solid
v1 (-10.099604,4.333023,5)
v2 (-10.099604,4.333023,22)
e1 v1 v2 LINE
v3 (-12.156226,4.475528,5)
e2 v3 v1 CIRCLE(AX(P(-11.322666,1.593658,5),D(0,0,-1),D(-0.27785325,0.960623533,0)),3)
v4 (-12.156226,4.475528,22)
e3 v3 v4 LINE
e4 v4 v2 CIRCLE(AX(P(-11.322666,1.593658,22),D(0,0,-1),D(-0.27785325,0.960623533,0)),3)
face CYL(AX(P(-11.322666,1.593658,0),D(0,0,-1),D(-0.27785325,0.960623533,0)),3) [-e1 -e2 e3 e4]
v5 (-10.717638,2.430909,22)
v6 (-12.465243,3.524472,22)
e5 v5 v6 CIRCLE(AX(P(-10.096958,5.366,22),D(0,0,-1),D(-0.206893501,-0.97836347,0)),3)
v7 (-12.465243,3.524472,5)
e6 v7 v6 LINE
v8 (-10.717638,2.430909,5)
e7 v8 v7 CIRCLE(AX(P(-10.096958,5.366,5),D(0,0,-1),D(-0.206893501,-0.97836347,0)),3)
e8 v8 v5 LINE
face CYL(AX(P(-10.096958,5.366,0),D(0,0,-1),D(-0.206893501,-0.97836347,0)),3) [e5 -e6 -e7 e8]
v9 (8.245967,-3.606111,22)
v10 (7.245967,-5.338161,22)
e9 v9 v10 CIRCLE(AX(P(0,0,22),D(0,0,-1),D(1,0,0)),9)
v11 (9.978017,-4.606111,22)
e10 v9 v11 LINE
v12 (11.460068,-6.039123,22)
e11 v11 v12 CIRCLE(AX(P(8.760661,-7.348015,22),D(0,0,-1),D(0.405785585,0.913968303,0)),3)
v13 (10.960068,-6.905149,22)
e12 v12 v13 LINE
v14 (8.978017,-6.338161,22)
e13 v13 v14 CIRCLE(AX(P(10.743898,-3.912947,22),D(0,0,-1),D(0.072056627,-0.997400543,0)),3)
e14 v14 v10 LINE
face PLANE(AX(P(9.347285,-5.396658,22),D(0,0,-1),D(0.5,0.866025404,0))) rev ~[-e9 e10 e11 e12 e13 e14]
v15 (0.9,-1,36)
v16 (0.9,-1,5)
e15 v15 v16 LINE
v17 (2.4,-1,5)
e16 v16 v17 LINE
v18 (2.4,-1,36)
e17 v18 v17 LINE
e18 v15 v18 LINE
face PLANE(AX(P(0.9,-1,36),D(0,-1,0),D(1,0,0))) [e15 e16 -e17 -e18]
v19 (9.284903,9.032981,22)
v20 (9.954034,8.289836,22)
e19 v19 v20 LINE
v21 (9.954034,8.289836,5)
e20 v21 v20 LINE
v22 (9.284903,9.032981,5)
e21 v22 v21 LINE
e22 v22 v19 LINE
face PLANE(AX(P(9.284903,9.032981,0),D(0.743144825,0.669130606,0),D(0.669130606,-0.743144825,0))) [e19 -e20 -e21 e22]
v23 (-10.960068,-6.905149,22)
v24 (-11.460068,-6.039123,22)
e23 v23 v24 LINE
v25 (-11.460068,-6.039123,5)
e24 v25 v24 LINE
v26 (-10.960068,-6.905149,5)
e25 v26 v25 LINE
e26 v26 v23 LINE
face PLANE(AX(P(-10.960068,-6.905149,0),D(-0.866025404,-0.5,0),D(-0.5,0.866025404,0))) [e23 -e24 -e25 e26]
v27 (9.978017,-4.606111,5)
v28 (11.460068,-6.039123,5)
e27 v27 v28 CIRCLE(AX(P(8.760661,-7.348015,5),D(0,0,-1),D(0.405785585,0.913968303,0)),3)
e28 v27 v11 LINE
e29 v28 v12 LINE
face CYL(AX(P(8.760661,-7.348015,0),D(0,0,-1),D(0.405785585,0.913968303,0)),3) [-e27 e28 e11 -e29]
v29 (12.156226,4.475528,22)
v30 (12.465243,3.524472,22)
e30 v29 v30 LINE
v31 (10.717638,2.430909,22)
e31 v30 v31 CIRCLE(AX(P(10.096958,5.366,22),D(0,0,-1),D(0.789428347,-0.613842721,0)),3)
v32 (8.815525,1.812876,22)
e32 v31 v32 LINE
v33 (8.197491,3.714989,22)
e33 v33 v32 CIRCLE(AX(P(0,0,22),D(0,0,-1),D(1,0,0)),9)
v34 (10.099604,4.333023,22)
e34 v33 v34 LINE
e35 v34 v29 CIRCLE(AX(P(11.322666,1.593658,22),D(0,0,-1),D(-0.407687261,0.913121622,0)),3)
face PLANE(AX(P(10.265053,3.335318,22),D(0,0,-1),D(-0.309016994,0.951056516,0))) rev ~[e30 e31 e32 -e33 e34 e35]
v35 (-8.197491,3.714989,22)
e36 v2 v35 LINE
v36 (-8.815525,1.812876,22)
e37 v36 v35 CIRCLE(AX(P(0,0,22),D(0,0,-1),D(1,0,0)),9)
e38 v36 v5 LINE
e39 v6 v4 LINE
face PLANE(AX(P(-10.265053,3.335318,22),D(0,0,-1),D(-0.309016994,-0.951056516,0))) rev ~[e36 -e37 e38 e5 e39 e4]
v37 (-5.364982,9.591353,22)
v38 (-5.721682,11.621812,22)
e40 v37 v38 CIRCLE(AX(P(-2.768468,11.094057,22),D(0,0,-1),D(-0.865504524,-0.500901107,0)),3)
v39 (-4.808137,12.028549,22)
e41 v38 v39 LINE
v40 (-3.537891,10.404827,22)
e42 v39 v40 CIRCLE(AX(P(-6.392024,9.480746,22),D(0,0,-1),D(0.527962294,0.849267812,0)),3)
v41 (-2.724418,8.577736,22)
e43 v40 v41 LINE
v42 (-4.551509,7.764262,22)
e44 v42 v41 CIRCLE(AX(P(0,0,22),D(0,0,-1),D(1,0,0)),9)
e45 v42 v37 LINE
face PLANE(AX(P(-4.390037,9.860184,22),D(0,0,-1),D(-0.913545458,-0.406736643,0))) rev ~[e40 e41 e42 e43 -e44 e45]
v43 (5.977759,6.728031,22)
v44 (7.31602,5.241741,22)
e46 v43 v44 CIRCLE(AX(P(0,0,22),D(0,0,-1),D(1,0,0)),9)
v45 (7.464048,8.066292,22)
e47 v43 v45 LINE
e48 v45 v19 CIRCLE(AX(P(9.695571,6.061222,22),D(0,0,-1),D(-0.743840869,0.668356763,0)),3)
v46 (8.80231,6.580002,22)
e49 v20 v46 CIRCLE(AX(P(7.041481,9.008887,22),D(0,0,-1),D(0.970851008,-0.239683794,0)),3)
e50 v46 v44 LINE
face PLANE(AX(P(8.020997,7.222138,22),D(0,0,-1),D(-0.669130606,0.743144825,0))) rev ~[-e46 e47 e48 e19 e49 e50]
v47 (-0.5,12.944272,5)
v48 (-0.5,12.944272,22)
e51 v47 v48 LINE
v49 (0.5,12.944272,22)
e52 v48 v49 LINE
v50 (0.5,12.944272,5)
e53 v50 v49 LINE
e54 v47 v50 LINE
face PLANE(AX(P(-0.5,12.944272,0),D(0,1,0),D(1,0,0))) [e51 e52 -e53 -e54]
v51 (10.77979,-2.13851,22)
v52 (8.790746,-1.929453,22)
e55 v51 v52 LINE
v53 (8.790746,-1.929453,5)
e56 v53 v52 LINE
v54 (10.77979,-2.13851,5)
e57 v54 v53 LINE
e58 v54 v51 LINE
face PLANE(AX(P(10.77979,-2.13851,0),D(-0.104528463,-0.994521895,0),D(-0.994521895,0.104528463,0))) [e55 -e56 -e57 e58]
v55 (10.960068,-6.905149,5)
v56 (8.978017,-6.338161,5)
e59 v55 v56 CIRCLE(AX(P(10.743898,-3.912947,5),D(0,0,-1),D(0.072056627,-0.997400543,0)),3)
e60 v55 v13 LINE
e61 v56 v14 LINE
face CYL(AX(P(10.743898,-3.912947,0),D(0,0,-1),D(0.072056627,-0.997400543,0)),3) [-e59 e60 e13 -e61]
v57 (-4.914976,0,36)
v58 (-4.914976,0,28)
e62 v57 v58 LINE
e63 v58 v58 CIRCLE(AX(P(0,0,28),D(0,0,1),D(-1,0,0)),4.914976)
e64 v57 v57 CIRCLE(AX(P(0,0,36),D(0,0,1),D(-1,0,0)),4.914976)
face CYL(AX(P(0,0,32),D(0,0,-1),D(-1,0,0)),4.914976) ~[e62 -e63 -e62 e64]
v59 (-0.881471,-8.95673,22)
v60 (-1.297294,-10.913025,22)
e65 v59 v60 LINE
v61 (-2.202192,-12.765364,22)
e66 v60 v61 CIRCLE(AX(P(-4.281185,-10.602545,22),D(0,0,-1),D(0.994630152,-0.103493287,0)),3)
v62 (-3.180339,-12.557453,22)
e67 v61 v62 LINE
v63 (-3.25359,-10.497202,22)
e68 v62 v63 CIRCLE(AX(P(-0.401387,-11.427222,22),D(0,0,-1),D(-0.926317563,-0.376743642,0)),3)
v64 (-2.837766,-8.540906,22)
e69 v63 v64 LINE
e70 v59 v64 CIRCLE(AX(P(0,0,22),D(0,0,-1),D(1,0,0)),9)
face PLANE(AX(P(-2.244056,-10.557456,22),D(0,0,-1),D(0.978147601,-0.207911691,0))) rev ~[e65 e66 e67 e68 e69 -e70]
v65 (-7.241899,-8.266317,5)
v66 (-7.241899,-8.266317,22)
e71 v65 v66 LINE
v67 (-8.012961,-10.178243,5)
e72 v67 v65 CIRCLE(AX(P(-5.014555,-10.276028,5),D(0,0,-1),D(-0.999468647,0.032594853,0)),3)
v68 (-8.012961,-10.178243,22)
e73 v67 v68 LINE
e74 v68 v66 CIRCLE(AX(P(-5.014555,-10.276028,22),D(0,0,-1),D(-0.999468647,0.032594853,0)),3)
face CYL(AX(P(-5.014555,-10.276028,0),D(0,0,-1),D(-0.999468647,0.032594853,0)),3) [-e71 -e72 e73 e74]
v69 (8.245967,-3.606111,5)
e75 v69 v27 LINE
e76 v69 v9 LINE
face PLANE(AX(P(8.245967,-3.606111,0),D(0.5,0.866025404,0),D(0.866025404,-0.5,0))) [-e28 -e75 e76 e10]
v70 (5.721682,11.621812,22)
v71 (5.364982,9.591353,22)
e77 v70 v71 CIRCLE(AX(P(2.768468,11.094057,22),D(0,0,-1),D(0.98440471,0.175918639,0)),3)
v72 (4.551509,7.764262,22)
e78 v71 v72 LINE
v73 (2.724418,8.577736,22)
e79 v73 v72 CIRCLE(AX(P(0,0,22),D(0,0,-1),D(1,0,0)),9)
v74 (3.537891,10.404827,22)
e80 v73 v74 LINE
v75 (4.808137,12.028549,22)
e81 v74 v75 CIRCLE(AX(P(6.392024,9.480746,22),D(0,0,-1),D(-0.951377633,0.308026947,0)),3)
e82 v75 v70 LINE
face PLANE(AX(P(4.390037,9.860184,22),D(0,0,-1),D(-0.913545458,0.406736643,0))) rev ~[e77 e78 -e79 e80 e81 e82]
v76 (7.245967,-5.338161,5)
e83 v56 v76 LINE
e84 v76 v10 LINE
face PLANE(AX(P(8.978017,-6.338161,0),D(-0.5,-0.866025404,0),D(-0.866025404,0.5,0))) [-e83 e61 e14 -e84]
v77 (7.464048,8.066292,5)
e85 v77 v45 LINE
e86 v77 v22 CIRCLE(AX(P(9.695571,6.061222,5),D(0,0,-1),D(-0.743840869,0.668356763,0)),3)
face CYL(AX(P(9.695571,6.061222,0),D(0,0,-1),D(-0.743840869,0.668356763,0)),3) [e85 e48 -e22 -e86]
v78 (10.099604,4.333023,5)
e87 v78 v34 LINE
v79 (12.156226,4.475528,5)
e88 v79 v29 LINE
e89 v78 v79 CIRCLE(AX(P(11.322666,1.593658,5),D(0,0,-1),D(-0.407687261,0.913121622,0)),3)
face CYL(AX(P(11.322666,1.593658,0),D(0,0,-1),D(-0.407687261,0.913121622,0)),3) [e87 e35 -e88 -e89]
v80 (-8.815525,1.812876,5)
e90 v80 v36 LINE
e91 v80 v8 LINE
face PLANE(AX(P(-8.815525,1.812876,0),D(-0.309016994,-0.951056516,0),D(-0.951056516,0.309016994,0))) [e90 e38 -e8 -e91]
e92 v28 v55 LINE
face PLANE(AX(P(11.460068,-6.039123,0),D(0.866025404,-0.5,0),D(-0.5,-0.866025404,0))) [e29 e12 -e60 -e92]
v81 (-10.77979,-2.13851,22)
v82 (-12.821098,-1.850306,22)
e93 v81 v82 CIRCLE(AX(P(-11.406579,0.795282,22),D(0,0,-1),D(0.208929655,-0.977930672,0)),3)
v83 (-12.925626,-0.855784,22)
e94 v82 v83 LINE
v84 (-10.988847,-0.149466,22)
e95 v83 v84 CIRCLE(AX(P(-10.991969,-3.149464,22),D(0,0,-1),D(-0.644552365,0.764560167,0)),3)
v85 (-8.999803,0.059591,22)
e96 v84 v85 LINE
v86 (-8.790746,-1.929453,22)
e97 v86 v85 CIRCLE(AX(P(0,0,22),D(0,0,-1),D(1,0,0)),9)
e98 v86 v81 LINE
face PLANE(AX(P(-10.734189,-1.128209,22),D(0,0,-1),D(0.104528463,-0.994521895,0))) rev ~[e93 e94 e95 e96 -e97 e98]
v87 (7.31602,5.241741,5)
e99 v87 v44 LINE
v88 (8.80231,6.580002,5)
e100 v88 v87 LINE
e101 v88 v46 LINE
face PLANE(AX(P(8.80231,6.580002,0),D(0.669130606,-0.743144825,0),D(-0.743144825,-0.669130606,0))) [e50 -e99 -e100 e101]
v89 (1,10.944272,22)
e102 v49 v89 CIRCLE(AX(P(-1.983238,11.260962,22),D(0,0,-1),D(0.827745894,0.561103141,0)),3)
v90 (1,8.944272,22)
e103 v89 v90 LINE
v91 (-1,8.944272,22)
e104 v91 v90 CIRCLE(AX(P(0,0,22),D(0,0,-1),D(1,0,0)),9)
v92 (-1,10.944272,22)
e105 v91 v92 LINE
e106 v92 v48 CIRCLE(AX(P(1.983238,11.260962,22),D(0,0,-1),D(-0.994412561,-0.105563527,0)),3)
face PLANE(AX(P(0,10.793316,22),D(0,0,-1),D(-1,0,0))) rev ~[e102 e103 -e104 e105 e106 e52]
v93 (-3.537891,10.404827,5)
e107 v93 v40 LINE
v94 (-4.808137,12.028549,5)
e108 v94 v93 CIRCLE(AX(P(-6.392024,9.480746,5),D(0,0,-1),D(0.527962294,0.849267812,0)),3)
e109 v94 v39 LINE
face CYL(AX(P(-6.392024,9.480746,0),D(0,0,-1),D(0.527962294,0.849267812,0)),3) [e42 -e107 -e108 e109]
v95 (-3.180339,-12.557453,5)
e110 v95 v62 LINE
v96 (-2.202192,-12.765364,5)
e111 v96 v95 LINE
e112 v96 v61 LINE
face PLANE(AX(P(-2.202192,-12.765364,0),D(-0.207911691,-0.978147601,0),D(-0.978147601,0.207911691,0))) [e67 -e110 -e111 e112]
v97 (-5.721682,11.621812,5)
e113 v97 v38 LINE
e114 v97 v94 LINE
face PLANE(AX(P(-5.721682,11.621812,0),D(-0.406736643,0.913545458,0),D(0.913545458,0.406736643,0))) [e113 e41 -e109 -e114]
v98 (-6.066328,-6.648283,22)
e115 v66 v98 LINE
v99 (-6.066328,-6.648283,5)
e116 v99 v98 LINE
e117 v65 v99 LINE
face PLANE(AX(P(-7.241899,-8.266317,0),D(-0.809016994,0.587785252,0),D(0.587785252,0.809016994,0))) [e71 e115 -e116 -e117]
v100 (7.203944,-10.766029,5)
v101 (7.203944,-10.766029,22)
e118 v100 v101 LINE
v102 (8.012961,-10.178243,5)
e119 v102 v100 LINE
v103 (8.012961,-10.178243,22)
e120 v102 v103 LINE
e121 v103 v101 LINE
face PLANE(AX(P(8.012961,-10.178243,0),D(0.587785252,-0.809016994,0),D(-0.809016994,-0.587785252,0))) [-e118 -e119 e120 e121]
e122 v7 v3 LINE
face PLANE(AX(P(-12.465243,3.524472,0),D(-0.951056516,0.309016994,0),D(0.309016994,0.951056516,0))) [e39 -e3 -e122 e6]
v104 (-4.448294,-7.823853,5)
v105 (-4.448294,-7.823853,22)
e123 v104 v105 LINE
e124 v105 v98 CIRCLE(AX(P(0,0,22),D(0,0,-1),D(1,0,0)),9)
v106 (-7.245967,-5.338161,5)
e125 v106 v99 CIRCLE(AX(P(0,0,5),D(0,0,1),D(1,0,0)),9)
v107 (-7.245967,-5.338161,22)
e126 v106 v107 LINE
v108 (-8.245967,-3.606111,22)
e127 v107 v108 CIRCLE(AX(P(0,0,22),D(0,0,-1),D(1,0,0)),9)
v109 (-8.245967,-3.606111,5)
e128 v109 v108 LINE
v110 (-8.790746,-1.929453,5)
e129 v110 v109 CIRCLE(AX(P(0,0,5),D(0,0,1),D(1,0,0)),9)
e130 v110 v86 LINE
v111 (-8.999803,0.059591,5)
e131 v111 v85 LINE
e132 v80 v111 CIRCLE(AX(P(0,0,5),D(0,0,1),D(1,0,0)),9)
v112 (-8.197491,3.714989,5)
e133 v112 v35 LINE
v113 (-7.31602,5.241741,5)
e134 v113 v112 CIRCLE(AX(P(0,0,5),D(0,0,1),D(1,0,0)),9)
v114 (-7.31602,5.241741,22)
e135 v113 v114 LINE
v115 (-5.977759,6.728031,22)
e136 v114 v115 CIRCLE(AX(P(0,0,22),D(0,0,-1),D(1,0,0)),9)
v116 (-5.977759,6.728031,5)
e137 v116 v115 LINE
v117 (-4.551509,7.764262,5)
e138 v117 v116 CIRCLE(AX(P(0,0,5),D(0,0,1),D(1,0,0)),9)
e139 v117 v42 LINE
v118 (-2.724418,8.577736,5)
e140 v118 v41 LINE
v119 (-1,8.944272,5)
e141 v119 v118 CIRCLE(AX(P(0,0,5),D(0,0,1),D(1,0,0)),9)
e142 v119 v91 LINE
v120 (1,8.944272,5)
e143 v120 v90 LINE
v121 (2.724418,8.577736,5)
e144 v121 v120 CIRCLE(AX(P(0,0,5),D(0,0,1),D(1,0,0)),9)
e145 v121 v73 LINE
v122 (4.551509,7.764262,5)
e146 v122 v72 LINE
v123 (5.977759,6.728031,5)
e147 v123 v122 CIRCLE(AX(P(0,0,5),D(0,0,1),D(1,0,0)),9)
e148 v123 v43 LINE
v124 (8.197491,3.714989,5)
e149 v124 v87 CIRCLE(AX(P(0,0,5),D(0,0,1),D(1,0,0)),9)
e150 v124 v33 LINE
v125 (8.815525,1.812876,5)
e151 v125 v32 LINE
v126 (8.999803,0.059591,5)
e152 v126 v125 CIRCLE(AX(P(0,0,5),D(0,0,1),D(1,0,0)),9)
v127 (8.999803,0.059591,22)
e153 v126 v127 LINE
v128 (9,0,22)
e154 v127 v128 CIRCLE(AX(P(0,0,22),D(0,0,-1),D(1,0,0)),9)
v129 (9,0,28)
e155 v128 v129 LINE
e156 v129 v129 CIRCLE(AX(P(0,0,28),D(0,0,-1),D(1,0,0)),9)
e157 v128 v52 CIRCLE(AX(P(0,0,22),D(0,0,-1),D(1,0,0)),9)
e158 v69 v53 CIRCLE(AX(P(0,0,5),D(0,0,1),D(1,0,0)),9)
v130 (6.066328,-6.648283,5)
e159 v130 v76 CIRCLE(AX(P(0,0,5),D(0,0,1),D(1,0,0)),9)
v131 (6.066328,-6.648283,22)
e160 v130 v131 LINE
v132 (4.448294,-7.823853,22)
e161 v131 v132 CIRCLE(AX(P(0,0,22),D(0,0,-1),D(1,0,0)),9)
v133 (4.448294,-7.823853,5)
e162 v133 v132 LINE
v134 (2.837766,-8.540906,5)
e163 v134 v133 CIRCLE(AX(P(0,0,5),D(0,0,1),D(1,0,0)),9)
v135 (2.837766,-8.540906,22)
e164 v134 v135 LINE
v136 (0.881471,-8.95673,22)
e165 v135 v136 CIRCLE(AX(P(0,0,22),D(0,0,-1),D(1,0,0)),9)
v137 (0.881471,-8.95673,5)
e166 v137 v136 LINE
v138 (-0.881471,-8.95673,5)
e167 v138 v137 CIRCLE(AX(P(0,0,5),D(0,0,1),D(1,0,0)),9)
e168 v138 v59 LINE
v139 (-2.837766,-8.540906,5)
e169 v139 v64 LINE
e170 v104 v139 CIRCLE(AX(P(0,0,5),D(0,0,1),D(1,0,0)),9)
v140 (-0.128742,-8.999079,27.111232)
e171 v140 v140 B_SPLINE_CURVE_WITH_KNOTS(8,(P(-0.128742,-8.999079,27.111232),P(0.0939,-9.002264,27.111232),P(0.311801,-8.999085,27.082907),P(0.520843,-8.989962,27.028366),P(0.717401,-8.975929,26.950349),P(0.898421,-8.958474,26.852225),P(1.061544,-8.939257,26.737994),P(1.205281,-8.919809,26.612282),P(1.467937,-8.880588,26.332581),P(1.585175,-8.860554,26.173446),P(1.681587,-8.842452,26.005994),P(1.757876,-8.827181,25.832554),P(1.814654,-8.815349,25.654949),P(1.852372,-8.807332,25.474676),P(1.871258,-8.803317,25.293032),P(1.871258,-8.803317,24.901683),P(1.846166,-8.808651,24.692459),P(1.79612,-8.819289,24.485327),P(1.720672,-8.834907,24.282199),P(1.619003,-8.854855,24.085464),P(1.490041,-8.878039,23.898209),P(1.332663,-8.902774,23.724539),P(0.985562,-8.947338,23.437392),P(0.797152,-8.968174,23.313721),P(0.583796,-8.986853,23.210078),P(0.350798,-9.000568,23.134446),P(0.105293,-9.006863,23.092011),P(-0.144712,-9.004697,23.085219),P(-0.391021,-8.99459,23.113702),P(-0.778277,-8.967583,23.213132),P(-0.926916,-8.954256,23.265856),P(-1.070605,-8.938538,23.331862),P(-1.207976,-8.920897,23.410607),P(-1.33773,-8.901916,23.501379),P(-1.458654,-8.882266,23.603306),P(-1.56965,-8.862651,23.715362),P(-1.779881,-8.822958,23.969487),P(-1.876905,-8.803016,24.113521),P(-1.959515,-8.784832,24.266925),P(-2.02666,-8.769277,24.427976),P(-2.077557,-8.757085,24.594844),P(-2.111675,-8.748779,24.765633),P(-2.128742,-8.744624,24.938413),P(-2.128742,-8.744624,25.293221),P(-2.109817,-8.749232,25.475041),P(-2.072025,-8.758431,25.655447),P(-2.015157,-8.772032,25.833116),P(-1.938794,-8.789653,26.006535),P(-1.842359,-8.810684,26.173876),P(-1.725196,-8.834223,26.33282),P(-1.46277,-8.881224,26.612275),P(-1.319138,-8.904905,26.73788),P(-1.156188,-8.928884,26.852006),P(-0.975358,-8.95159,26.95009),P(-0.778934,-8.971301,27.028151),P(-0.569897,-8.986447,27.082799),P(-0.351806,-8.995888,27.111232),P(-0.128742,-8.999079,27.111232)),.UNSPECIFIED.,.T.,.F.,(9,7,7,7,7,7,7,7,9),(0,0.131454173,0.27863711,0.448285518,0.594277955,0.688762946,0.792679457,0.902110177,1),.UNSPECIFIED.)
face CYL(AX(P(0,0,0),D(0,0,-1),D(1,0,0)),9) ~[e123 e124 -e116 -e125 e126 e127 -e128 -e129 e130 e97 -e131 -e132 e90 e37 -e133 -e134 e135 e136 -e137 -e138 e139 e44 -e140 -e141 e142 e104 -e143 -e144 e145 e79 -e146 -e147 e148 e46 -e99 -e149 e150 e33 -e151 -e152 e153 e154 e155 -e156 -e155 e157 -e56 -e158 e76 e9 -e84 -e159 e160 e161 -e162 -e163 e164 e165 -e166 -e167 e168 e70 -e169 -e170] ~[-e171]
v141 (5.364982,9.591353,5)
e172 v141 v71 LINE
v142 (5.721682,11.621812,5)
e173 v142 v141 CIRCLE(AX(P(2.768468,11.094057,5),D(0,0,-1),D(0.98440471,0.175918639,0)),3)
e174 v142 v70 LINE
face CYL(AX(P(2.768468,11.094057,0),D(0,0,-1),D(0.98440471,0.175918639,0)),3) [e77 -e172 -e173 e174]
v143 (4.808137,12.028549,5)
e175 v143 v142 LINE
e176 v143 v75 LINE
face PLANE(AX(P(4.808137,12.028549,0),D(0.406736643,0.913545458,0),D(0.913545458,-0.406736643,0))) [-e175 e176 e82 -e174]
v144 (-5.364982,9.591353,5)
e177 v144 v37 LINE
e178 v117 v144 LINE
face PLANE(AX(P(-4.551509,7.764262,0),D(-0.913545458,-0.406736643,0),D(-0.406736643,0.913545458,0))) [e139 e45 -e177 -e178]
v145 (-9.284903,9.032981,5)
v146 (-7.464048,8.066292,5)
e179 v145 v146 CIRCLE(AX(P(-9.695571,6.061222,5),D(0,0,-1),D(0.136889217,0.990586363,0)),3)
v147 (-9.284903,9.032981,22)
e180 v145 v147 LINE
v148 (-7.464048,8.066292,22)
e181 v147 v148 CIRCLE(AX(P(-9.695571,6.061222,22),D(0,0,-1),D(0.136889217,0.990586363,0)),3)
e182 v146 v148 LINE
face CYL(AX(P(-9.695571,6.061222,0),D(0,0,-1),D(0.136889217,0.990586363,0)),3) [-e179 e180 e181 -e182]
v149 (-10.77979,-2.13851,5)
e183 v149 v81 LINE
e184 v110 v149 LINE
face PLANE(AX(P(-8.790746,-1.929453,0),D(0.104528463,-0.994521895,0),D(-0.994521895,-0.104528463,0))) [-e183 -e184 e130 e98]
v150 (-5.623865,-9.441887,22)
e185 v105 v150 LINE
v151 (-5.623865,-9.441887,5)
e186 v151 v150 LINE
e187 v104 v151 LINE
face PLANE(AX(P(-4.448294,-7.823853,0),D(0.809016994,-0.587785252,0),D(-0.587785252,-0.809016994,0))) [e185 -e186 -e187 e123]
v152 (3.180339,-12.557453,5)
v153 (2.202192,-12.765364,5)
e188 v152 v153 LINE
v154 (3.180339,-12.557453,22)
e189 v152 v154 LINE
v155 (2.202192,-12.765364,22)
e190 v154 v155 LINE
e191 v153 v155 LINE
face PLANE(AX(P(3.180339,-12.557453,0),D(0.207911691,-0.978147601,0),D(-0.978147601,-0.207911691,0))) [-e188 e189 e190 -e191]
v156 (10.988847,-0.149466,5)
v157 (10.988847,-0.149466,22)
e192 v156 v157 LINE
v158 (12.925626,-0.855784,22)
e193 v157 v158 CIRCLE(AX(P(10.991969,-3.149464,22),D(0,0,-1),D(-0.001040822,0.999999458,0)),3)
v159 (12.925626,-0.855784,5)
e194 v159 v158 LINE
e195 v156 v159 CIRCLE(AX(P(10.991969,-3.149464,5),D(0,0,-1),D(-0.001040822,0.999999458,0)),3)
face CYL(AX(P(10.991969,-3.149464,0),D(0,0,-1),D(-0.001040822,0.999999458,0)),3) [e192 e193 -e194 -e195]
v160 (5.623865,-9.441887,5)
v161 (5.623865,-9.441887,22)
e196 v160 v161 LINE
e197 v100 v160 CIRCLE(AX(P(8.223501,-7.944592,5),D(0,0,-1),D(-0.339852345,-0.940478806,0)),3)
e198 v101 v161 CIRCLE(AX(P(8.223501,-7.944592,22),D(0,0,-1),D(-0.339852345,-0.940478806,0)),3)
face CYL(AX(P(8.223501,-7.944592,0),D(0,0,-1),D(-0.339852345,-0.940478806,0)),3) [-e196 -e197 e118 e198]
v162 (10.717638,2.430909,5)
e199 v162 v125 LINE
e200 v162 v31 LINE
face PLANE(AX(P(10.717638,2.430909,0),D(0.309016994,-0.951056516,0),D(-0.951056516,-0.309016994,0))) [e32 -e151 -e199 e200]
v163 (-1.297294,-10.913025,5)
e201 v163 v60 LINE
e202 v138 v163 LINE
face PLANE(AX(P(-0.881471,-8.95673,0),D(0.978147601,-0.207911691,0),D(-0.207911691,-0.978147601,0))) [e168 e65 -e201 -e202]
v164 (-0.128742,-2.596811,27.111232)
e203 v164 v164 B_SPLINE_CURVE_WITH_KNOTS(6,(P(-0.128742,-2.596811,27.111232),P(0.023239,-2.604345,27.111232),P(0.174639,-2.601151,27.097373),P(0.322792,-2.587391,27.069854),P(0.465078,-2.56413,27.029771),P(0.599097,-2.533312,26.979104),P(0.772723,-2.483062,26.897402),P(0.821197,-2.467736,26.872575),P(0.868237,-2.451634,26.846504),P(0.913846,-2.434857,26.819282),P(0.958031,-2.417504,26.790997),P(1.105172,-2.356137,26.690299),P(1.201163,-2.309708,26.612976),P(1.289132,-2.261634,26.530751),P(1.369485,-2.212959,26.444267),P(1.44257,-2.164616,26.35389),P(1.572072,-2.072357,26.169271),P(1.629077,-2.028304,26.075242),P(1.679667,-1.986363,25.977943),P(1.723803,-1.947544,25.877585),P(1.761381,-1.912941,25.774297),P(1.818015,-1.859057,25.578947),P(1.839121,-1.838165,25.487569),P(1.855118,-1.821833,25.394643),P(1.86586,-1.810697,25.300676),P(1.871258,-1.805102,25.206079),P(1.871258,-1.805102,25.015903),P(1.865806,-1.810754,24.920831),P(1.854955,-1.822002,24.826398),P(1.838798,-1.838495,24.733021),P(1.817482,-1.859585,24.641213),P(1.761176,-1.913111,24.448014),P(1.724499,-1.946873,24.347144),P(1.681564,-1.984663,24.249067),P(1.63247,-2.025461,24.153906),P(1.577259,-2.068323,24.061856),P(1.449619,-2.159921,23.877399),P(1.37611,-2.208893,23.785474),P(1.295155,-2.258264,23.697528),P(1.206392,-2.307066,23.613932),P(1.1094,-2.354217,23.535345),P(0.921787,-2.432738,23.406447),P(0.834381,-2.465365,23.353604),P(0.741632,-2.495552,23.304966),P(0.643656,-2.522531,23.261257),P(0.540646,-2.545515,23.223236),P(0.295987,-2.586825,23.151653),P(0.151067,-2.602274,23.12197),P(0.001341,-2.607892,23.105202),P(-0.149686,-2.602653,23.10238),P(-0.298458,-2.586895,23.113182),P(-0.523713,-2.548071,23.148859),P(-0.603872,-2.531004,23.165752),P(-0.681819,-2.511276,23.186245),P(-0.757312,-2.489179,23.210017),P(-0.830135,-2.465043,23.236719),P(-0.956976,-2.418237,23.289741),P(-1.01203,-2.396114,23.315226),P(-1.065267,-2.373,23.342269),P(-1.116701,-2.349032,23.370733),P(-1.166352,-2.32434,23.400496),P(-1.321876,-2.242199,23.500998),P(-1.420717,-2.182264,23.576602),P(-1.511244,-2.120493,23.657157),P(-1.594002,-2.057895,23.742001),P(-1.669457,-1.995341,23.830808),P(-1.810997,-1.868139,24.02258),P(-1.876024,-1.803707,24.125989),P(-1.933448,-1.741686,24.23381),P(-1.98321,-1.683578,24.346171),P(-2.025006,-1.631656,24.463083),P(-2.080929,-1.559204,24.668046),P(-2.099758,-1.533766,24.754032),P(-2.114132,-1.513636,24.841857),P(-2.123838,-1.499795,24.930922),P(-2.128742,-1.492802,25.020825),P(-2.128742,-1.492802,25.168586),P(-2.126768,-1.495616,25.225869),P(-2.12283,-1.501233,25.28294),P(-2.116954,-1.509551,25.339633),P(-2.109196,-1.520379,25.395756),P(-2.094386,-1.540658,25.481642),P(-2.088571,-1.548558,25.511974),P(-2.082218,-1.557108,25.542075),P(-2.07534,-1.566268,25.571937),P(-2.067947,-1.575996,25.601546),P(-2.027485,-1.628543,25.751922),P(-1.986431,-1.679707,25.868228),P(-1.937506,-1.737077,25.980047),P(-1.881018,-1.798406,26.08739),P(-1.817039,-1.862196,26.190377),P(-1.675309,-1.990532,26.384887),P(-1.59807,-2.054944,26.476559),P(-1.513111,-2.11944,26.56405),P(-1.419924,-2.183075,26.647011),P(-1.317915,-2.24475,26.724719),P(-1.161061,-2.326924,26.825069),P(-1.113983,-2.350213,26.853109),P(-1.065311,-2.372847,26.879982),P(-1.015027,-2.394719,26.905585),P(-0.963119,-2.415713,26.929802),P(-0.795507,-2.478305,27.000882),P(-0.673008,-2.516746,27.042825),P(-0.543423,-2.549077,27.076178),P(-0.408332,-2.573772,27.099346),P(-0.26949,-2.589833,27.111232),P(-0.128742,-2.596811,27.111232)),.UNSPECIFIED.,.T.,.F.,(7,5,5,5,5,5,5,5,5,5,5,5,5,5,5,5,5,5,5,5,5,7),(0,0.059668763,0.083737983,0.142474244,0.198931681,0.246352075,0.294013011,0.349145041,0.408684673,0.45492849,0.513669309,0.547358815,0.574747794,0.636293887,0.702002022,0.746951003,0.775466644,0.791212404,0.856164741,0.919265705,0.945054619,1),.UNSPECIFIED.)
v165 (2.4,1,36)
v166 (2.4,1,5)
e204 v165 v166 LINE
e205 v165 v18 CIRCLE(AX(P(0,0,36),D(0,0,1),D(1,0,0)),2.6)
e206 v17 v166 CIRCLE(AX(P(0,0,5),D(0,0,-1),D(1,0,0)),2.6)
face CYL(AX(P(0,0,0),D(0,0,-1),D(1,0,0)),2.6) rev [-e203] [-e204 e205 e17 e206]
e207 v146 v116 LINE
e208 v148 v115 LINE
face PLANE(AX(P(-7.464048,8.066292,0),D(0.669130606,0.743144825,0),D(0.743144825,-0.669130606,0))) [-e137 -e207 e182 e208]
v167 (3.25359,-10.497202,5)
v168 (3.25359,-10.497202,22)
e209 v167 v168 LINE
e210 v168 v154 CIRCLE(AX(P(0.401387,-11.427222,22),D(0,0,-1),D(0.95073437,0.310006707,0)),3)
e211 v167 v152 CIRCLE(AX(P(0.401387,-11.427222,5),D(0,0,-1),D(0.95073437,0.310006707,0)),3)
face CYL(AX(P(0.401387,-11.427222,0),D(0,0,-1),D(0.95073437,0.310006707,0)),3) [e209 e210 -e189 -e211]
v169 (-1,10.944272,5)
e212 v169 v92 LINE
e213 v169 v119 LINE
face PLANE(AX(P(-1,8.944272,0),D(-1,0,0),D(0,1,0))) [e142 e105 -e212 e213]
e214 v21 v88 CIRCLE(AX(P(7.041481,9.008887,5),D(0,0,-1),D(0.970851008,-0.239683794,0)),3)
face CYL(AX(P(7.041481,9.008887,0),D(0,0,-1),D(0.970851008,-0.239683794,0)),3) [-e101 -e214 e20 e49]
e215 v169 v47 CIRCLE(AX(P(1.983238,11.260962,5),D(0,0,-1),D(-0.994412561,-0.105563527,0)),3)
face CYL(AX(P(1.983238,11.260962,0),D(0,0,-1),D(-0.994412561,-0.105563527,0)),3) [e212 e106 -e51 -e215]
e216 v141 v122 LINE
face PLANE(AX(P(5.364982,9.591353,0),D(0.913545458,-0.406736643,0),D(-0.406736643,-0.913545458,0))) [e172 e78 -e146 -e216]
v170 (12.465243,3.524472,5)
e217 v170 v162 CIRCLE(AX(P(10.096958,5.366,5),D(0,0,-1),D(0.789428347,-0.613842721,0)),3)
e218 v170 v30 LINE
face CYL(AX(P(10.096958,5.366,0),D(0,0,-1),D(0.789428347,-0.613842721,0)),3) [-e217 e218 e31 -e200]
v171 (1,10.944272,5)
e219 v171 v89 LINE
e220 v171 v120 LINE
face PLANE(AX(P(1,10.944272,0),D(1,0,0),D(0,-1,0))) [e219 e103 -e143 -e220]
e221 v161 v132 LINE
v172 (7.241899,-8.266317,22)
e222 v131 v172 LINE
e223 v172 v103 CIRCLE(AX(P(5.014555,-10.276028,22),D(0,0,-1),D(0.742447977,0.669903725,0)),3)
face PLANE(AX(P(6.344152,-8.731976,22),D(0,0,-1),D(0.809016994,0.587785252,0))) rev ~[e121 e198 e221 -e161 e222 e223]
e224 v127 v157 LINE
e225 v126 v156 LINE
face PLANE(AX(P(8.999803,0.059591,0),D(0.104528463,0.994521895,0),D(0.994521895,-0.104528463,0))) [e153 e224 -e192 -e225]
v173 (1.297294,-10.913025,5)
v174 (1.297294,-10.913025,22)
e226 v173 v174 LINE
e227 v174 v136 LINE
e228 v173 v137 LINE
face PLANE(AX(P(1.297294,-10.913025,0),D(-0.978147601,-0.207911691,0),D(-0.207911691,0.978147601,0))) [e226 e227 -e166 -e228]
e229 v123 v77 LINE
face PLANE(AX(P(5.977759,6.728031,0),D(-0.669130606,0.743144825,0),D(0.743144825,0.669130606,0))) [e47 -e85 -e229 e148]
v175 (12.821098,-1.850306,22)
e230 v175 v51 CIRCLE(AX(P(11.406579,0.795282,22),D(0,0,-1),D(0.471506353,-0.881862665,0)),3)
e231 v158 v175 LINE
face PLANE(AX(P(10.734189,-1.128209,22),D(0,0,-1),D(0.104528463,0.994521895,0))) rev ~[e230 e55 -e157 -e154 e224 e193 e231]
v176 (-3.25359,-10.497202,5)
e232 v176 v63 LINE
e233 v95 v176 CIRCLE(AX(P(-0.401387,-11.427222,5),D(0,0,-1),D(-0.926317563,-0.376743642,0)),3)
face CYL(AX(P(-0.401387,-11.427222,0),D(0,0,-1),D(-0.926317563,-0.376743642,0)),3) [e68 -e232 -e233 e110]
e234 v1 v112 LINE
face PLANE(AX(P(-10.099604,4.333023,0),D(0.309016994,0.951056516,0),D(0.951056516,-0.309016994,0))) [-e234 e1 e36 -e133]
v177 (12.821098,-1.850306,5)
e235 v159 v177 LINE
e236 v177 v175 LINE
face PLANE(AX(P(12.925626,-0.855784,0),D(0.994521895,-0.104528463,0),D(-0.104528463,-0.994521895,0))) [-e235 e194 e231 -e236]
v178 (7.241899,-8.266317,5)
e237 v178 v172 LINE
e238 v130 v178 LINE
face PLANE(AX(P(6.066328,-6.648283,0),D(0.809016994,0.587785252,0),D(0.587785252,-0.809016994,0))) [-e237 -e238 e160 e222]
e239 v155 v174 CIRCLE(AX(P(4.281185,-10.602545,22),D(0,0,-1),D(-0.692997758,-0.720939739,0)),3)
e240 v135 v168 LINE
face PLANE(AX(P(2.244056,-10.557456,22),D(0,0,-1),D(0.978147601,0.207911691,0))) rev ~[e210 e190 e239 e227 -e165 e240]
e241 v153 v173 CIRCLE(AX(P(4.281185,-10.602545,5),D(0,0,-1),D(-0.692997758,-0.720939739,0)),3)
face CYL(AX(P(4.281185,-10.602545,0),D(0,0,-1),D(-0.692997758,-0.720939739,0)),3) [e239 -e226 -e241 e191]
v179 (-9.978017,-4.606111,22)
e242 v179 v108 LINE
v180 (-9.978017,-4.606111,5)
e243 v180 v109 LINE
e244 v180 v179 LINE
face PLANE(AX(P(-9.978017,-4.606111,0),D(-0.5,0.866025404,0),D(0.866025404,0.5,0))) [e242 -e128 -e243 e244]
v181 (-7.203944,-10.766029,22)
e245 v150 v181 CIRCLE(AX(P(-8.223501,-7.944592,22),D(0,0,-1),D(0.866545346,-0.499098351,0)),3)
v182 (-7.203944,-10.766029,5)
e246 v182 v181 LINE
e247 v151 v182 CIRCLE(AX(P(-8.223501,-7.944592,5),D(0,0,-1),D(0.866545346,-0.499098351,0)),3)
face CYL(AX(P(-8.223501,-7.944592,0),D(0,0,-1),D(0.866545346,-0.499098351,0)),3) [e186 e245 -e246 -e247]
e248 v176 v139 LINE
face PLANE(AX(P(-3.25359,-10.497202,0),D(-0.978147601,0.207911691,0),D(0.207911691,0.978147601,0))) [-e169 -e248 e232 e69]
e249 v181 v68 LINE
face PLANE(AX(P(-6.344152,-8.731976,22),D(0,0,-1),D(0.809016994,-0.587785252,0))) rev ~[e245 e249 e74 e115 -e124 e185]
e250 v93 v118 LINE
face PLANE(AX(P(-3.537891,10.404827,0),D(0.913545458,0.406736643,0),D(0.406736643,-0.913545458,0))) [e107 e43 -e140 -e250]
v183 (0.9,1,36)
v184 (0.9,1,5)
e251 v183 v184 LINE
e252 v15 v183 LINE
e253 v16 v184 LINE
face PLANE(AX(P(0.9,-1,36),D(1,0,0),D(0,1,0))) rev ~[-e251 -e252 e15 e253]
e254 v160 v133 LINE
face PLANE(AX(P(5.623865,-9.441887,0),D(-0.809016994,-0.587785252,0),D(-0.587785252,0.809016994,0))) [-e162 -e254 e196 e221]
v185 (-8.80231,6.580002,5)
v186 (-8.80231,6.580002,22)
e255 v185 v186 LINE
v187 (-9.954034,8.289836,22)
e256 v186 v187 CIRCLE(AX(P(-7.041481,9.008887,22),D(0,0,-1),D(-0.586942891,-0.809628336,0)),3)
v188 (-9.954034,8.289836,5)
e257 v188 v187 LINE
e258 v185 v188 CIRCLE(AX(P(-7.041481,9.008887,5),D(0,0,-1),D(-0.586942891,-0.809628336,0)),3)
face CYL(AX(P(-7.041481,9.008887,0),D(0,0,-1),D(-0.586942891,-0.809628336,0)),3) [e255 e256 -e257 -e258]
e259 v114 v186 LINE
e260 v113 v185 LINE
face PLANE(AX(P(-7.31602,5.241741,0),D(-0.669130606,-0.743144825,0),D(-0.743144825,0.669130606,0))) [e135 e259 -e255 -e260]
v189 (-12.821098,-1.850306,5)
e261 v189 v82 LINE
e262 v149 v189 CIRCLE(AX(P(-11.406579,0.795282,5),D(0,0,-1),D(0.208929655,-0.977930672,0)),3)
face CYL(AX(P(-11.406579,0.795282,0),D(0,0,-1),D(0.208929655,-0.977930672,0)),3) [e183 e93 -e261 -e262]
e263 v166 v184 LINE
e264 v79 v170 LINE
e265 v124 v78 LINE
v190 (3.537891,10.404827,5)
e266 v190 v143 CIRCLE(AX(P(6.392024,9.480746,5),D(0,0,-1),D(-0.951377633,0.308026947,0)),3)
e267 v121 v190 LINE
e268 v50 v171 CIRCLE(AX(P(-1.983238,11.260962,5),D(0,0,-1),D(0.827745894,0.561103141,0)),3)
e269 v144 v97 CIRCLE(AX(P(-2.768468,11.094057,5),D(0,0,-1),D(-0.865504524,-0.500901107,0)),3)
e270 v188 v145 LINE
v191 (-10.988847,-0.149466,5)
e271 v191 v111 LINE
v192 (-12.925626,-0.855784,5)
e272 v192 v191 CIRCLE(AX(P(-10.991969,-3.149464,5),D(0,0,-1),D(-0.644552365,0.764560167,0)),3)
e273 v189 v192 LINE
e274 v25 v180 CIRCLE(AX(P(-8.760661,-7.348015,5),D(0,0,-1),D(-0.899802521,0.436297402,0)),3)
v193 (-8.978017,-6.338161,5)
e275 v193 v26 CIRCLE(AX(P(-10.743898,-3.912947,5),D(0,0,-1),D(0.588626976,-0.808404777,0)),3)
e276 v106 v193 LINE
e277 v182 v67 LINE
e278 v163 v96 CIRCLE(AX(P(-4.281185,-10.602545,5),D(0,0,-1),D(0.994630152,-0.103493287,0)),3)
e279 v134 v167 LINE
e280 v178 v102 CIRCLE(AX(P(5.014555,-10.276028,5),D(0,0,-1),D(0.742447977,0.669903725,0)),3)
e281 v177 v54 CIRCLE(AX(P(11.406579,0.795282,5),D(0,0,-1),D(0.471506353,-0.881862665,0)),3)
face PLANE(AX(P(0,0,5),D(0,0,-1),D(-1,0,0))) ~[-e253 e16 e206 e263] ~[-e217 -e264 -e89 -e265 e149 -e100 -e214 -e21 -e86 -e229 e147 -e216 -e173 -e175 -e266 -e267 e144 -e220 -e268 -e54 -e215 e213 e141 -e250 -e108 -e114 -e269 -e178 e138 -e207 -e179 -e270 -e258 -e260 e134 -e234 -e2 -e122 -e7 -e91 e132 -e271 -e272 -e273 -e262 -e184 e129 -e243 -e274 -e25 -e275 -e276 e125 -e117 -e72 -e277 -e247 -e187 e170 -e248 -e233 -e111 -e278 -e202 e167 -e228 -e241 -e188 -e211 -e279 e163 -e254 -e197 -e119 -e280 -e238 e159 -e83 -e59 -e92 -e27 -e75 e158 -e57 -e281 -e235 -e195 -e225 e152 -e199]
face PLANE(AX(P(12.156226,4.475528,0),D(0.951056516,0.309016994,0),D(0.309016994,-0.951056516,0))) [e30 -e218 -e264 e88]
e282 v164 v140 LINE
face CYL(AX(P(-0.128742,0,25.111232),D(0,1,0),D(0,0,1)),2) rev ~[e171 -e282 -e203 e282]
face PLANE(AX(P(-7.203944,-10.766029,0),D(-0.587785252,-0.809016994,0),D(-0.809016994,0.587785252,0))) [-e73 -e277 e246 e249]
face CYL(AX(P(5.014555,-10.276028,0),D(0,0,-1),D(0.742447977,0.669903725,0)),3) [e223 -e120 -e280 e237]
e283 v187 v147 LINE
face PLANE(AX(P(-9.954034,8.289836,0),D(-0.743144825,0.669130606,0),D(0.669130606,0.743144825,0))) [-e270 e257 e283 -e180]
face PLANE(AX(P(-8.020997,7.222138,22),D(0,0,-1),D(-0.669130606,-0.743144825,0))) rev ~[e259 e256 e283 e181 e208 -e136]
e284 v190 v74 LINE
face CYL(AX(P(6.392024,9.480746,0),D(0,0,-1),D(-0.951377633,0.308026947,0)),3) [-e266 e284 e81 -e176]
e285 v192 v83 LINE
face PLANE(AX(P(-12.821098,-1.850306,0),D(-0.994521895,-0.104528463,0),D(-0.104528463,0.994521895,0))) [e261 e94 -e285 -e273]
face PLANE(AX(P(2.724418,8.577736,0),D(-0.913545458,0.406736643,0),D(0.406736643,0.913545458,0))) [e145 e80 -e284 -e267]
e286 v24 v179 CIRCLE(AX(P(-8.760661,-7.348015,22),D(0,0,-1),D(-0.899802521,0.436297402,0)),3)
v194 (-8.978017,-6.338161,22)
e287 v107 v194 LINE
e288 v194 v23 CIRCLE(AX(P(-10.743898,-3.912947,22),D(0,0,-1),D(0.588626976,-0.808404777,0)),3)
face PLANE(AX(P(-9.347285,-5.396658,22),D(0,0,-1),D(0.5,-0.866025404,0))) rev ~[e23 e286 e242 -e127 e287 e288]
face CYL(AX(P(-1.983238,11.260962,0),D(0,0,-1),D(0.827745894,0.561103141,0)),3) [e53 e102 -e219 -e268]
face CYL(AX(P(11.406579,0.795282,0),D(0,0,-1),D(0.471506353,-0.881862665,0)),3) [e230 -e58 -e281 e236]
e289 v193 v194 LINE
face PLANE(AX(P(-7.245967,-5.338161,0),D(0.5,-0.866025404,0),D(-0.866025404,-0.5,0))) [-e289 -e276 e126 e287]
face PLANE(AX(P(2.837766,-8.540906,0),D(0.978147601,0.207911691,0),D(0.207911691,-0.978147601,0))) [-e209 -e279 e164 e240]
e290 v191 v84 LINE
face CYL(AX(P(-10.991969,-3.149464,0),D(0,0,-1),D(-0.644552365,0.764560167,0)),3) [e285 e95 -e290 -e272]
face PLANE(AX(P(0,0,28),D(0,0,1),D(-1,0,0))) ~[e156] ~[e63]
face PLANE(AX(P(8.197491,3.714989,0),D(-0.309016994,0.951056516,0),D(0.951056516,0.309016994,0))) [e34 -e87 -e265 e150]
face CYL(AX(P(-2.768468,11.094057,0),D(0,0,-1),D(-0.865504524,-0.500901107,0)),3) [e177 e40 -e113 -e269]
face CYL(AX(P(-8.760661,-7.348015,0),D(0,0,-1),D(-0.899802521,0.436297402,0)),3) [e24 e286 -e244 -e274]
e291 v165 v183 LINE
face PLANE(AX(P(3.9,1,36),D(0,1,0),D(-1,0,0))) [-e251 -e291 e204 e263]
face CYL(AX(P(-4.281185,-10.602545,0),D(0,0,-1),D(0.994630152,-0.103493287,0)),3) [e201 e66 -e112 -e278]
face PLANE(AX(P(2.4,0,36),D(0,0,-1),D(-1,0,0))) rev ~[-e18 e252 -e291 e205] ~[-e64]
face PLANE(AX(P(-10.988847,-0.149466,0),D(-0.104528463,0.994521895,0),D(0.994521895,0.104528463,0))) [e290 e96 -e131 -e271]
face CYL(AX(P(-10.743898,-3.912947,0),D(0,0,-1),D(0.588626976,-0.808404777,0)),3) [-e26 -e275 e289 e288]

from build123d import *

# Parameters (mm, degrees)
SKETCH1_R                    = 9
SKETCH1_R_2                  = 2.6
BOSS_EXTRUDE1_DEPTH          = 36
SKETCH5_W                    = 5
SKETCH5_H                    = 4.08502449
SKETCH5_W_2                  = 8
BOSS_EXTRUDE2_DEPTH          = 22
SKETCH7_W                    = 5
SKETCH7_H                    = 4.653899232
CUT_REVOLVE2_ANGLE           = 90
CUT_REVOLVE2_OTHER_WAY_ANGLE = 90
CIRPATTERN1_COUNT            = 15
SKETCH13_W                   = 5
SKETCH13_H                   = 16.616445935
SKETCH17_R                   = 2
CUT_EXTRUDE1_DEPTH           = 10
BOSS_EXTRUDE3_DEPTH          = 31


with BuildPart() as part:
    # Sketch1 → Boss-Extrude1 (new body)
    with BuildSketch(Plane.XY):
        Circle(SKETCH1_R)
        Circle(SKETCH1_R_2, mode=Mode.SUBTRACT)
    extrude(amount=BOSS_EXTRUDE1_DEPTH)

    # Sketch5 → Cut-Revolve1 (revolve, cut)
    with BuildSketch(Plane(origin=(0, 0, 0), x_dir=(0, 0, -1), z_dir=(1, 0, 0)), mode=Mode.PRIVATE) as cut_revolve1_sk:
        with Locations((-2.5, 6.957487755)):
            Rectangle(SKETCH5_W, SKETCH5_H)
        with Locations((-32, 6.957487755)):
            Rectangle(SKETCH5_W_2, SKETCH5_H)
    revolve(cut_revolve1_sk.sketch.rotate(Axis((0, 0, 0), (0, 0, 1)), 90), axis=Axis((0, 0, 0), (0, 0, 1)), mode=Mode.SUBTRACT)

    # Sketch6 → Boss-Extrude2 (add)
    with BuildSketch(Plane.XY):
        with BuildLine():
            Line((-1, 8.94427191), (-1, 10.94427191))
            ThreePointArc((-1, 10.94427191), (-0.927189817, 11.988569364), (-0.5, 12.94427191))
            Line((-0.5, 12.94427191), (0.5, 12.94427191))
            ThreePointArc((0.5, 12.94427191), (0.927189817, 11.988569364), (1, 10.94427191))
            Line((1, 10.94427191), (1, 8.94427191))
            Line((1, 8.94427191), (-1, 8.94427191))
        make_face()
    boss_extrude2 = extrude(amount=BOSS_EXTRUDE2_DEPTH)

    # Sketch7 → Cut-Revolve2 (revolve, cut)
    with BuildSketch(Plane(origin=(0, 0, 0), x_dir=(0, 0, -1), z_dir=(1, 0, 0))):
        with Locations((-2.5, 11.271221526)):
            Rectangle(SKETCH7_W, SKETCH7_H)
    revolve(axis=Axis((0, 8.94427191, 5), (0, 0, -1)), revolution_arc=CUT_REVOLVE2_ANGLE, mode=Mode.SUBTRACT)

    # Sketch7 → Cut-Revolve2 other way (revolve, cut)
    with BuildSketch(Plane(origin=(0, 0, 0), x_dir=(0, 0, -1), z_dir=(1, 0, 0))):
        with Locations((-2.5, 11.271221526)):
            Rectangle(SKETCH7_W, SKETCH7_H)
    revolve(axis=Axis((0, 8.94427191, 5), (0, 0, 1)), revolution_arc=CUT_REVOLVE2_OTHER_WAY_ANGLE, mode=Mode.SUBTRACT)

    # CirPattern1: Boss-Extrude2 ×15 about axis
    cirpattern1_axis = Axis((0, 0, 0), (0, 0, 1))
    for i in range(1, CIRPATTERN1_COUNT):
        add(boss_extrude2.rotate(cirpattern1_axis, i * 360 / CIRPATTERN1_COUNT))

    # Sketch13 → Cut-Revolve6 (revolve, cut)
    with BuildSketch(Plane(origin=(0, 0, 0), x_dir=(0, 0, -1), z_dir=(1, 0, 0)), mode=Mode.PRIVATE) as cut_revolve6_sk:
        with Locations((-2.5, 8.308222968)):
            Rectangle(SKETCH13_W, SKETCH13_H)
    revolve(cut_revolve6_sk.sketch.rotate(Axis((0, 0, 25.578402878), (0, 0, -1)), 270), axis=Axis((0, 0, 25.578402878), (0, 0, -1)), mode=Mode.SUBTRACT)

    # Sketch17 → Cut-Extrude1 (cut)
    with BuildSketch(Plane(origin=(0, 0, 0), x_dir=(1, 0, 0), z_dir=(0, 1, 0))):
        with Locations(Location((-0.128741976, -25.11123185, 0), (0, 0, 270))):
            Circle(SKETCH17_R)
    extrude(amount=-CUT_EXTRUDE1_DEPTH, mode=Mode.SUBTRACT)

    # Sketch19 → Boss-Extrude3 (add)
    with BuildSketch(Plane.XY.offset(36)):
        Polygon((2.4, 1), (3.9, 1), (3.9, -1), (2.4, -1), (0.9, -1), (0.9, 1), align=None)
    extrude(amount=-BOSS_EXTRUDE3_DEPTH)


solid = part.part
